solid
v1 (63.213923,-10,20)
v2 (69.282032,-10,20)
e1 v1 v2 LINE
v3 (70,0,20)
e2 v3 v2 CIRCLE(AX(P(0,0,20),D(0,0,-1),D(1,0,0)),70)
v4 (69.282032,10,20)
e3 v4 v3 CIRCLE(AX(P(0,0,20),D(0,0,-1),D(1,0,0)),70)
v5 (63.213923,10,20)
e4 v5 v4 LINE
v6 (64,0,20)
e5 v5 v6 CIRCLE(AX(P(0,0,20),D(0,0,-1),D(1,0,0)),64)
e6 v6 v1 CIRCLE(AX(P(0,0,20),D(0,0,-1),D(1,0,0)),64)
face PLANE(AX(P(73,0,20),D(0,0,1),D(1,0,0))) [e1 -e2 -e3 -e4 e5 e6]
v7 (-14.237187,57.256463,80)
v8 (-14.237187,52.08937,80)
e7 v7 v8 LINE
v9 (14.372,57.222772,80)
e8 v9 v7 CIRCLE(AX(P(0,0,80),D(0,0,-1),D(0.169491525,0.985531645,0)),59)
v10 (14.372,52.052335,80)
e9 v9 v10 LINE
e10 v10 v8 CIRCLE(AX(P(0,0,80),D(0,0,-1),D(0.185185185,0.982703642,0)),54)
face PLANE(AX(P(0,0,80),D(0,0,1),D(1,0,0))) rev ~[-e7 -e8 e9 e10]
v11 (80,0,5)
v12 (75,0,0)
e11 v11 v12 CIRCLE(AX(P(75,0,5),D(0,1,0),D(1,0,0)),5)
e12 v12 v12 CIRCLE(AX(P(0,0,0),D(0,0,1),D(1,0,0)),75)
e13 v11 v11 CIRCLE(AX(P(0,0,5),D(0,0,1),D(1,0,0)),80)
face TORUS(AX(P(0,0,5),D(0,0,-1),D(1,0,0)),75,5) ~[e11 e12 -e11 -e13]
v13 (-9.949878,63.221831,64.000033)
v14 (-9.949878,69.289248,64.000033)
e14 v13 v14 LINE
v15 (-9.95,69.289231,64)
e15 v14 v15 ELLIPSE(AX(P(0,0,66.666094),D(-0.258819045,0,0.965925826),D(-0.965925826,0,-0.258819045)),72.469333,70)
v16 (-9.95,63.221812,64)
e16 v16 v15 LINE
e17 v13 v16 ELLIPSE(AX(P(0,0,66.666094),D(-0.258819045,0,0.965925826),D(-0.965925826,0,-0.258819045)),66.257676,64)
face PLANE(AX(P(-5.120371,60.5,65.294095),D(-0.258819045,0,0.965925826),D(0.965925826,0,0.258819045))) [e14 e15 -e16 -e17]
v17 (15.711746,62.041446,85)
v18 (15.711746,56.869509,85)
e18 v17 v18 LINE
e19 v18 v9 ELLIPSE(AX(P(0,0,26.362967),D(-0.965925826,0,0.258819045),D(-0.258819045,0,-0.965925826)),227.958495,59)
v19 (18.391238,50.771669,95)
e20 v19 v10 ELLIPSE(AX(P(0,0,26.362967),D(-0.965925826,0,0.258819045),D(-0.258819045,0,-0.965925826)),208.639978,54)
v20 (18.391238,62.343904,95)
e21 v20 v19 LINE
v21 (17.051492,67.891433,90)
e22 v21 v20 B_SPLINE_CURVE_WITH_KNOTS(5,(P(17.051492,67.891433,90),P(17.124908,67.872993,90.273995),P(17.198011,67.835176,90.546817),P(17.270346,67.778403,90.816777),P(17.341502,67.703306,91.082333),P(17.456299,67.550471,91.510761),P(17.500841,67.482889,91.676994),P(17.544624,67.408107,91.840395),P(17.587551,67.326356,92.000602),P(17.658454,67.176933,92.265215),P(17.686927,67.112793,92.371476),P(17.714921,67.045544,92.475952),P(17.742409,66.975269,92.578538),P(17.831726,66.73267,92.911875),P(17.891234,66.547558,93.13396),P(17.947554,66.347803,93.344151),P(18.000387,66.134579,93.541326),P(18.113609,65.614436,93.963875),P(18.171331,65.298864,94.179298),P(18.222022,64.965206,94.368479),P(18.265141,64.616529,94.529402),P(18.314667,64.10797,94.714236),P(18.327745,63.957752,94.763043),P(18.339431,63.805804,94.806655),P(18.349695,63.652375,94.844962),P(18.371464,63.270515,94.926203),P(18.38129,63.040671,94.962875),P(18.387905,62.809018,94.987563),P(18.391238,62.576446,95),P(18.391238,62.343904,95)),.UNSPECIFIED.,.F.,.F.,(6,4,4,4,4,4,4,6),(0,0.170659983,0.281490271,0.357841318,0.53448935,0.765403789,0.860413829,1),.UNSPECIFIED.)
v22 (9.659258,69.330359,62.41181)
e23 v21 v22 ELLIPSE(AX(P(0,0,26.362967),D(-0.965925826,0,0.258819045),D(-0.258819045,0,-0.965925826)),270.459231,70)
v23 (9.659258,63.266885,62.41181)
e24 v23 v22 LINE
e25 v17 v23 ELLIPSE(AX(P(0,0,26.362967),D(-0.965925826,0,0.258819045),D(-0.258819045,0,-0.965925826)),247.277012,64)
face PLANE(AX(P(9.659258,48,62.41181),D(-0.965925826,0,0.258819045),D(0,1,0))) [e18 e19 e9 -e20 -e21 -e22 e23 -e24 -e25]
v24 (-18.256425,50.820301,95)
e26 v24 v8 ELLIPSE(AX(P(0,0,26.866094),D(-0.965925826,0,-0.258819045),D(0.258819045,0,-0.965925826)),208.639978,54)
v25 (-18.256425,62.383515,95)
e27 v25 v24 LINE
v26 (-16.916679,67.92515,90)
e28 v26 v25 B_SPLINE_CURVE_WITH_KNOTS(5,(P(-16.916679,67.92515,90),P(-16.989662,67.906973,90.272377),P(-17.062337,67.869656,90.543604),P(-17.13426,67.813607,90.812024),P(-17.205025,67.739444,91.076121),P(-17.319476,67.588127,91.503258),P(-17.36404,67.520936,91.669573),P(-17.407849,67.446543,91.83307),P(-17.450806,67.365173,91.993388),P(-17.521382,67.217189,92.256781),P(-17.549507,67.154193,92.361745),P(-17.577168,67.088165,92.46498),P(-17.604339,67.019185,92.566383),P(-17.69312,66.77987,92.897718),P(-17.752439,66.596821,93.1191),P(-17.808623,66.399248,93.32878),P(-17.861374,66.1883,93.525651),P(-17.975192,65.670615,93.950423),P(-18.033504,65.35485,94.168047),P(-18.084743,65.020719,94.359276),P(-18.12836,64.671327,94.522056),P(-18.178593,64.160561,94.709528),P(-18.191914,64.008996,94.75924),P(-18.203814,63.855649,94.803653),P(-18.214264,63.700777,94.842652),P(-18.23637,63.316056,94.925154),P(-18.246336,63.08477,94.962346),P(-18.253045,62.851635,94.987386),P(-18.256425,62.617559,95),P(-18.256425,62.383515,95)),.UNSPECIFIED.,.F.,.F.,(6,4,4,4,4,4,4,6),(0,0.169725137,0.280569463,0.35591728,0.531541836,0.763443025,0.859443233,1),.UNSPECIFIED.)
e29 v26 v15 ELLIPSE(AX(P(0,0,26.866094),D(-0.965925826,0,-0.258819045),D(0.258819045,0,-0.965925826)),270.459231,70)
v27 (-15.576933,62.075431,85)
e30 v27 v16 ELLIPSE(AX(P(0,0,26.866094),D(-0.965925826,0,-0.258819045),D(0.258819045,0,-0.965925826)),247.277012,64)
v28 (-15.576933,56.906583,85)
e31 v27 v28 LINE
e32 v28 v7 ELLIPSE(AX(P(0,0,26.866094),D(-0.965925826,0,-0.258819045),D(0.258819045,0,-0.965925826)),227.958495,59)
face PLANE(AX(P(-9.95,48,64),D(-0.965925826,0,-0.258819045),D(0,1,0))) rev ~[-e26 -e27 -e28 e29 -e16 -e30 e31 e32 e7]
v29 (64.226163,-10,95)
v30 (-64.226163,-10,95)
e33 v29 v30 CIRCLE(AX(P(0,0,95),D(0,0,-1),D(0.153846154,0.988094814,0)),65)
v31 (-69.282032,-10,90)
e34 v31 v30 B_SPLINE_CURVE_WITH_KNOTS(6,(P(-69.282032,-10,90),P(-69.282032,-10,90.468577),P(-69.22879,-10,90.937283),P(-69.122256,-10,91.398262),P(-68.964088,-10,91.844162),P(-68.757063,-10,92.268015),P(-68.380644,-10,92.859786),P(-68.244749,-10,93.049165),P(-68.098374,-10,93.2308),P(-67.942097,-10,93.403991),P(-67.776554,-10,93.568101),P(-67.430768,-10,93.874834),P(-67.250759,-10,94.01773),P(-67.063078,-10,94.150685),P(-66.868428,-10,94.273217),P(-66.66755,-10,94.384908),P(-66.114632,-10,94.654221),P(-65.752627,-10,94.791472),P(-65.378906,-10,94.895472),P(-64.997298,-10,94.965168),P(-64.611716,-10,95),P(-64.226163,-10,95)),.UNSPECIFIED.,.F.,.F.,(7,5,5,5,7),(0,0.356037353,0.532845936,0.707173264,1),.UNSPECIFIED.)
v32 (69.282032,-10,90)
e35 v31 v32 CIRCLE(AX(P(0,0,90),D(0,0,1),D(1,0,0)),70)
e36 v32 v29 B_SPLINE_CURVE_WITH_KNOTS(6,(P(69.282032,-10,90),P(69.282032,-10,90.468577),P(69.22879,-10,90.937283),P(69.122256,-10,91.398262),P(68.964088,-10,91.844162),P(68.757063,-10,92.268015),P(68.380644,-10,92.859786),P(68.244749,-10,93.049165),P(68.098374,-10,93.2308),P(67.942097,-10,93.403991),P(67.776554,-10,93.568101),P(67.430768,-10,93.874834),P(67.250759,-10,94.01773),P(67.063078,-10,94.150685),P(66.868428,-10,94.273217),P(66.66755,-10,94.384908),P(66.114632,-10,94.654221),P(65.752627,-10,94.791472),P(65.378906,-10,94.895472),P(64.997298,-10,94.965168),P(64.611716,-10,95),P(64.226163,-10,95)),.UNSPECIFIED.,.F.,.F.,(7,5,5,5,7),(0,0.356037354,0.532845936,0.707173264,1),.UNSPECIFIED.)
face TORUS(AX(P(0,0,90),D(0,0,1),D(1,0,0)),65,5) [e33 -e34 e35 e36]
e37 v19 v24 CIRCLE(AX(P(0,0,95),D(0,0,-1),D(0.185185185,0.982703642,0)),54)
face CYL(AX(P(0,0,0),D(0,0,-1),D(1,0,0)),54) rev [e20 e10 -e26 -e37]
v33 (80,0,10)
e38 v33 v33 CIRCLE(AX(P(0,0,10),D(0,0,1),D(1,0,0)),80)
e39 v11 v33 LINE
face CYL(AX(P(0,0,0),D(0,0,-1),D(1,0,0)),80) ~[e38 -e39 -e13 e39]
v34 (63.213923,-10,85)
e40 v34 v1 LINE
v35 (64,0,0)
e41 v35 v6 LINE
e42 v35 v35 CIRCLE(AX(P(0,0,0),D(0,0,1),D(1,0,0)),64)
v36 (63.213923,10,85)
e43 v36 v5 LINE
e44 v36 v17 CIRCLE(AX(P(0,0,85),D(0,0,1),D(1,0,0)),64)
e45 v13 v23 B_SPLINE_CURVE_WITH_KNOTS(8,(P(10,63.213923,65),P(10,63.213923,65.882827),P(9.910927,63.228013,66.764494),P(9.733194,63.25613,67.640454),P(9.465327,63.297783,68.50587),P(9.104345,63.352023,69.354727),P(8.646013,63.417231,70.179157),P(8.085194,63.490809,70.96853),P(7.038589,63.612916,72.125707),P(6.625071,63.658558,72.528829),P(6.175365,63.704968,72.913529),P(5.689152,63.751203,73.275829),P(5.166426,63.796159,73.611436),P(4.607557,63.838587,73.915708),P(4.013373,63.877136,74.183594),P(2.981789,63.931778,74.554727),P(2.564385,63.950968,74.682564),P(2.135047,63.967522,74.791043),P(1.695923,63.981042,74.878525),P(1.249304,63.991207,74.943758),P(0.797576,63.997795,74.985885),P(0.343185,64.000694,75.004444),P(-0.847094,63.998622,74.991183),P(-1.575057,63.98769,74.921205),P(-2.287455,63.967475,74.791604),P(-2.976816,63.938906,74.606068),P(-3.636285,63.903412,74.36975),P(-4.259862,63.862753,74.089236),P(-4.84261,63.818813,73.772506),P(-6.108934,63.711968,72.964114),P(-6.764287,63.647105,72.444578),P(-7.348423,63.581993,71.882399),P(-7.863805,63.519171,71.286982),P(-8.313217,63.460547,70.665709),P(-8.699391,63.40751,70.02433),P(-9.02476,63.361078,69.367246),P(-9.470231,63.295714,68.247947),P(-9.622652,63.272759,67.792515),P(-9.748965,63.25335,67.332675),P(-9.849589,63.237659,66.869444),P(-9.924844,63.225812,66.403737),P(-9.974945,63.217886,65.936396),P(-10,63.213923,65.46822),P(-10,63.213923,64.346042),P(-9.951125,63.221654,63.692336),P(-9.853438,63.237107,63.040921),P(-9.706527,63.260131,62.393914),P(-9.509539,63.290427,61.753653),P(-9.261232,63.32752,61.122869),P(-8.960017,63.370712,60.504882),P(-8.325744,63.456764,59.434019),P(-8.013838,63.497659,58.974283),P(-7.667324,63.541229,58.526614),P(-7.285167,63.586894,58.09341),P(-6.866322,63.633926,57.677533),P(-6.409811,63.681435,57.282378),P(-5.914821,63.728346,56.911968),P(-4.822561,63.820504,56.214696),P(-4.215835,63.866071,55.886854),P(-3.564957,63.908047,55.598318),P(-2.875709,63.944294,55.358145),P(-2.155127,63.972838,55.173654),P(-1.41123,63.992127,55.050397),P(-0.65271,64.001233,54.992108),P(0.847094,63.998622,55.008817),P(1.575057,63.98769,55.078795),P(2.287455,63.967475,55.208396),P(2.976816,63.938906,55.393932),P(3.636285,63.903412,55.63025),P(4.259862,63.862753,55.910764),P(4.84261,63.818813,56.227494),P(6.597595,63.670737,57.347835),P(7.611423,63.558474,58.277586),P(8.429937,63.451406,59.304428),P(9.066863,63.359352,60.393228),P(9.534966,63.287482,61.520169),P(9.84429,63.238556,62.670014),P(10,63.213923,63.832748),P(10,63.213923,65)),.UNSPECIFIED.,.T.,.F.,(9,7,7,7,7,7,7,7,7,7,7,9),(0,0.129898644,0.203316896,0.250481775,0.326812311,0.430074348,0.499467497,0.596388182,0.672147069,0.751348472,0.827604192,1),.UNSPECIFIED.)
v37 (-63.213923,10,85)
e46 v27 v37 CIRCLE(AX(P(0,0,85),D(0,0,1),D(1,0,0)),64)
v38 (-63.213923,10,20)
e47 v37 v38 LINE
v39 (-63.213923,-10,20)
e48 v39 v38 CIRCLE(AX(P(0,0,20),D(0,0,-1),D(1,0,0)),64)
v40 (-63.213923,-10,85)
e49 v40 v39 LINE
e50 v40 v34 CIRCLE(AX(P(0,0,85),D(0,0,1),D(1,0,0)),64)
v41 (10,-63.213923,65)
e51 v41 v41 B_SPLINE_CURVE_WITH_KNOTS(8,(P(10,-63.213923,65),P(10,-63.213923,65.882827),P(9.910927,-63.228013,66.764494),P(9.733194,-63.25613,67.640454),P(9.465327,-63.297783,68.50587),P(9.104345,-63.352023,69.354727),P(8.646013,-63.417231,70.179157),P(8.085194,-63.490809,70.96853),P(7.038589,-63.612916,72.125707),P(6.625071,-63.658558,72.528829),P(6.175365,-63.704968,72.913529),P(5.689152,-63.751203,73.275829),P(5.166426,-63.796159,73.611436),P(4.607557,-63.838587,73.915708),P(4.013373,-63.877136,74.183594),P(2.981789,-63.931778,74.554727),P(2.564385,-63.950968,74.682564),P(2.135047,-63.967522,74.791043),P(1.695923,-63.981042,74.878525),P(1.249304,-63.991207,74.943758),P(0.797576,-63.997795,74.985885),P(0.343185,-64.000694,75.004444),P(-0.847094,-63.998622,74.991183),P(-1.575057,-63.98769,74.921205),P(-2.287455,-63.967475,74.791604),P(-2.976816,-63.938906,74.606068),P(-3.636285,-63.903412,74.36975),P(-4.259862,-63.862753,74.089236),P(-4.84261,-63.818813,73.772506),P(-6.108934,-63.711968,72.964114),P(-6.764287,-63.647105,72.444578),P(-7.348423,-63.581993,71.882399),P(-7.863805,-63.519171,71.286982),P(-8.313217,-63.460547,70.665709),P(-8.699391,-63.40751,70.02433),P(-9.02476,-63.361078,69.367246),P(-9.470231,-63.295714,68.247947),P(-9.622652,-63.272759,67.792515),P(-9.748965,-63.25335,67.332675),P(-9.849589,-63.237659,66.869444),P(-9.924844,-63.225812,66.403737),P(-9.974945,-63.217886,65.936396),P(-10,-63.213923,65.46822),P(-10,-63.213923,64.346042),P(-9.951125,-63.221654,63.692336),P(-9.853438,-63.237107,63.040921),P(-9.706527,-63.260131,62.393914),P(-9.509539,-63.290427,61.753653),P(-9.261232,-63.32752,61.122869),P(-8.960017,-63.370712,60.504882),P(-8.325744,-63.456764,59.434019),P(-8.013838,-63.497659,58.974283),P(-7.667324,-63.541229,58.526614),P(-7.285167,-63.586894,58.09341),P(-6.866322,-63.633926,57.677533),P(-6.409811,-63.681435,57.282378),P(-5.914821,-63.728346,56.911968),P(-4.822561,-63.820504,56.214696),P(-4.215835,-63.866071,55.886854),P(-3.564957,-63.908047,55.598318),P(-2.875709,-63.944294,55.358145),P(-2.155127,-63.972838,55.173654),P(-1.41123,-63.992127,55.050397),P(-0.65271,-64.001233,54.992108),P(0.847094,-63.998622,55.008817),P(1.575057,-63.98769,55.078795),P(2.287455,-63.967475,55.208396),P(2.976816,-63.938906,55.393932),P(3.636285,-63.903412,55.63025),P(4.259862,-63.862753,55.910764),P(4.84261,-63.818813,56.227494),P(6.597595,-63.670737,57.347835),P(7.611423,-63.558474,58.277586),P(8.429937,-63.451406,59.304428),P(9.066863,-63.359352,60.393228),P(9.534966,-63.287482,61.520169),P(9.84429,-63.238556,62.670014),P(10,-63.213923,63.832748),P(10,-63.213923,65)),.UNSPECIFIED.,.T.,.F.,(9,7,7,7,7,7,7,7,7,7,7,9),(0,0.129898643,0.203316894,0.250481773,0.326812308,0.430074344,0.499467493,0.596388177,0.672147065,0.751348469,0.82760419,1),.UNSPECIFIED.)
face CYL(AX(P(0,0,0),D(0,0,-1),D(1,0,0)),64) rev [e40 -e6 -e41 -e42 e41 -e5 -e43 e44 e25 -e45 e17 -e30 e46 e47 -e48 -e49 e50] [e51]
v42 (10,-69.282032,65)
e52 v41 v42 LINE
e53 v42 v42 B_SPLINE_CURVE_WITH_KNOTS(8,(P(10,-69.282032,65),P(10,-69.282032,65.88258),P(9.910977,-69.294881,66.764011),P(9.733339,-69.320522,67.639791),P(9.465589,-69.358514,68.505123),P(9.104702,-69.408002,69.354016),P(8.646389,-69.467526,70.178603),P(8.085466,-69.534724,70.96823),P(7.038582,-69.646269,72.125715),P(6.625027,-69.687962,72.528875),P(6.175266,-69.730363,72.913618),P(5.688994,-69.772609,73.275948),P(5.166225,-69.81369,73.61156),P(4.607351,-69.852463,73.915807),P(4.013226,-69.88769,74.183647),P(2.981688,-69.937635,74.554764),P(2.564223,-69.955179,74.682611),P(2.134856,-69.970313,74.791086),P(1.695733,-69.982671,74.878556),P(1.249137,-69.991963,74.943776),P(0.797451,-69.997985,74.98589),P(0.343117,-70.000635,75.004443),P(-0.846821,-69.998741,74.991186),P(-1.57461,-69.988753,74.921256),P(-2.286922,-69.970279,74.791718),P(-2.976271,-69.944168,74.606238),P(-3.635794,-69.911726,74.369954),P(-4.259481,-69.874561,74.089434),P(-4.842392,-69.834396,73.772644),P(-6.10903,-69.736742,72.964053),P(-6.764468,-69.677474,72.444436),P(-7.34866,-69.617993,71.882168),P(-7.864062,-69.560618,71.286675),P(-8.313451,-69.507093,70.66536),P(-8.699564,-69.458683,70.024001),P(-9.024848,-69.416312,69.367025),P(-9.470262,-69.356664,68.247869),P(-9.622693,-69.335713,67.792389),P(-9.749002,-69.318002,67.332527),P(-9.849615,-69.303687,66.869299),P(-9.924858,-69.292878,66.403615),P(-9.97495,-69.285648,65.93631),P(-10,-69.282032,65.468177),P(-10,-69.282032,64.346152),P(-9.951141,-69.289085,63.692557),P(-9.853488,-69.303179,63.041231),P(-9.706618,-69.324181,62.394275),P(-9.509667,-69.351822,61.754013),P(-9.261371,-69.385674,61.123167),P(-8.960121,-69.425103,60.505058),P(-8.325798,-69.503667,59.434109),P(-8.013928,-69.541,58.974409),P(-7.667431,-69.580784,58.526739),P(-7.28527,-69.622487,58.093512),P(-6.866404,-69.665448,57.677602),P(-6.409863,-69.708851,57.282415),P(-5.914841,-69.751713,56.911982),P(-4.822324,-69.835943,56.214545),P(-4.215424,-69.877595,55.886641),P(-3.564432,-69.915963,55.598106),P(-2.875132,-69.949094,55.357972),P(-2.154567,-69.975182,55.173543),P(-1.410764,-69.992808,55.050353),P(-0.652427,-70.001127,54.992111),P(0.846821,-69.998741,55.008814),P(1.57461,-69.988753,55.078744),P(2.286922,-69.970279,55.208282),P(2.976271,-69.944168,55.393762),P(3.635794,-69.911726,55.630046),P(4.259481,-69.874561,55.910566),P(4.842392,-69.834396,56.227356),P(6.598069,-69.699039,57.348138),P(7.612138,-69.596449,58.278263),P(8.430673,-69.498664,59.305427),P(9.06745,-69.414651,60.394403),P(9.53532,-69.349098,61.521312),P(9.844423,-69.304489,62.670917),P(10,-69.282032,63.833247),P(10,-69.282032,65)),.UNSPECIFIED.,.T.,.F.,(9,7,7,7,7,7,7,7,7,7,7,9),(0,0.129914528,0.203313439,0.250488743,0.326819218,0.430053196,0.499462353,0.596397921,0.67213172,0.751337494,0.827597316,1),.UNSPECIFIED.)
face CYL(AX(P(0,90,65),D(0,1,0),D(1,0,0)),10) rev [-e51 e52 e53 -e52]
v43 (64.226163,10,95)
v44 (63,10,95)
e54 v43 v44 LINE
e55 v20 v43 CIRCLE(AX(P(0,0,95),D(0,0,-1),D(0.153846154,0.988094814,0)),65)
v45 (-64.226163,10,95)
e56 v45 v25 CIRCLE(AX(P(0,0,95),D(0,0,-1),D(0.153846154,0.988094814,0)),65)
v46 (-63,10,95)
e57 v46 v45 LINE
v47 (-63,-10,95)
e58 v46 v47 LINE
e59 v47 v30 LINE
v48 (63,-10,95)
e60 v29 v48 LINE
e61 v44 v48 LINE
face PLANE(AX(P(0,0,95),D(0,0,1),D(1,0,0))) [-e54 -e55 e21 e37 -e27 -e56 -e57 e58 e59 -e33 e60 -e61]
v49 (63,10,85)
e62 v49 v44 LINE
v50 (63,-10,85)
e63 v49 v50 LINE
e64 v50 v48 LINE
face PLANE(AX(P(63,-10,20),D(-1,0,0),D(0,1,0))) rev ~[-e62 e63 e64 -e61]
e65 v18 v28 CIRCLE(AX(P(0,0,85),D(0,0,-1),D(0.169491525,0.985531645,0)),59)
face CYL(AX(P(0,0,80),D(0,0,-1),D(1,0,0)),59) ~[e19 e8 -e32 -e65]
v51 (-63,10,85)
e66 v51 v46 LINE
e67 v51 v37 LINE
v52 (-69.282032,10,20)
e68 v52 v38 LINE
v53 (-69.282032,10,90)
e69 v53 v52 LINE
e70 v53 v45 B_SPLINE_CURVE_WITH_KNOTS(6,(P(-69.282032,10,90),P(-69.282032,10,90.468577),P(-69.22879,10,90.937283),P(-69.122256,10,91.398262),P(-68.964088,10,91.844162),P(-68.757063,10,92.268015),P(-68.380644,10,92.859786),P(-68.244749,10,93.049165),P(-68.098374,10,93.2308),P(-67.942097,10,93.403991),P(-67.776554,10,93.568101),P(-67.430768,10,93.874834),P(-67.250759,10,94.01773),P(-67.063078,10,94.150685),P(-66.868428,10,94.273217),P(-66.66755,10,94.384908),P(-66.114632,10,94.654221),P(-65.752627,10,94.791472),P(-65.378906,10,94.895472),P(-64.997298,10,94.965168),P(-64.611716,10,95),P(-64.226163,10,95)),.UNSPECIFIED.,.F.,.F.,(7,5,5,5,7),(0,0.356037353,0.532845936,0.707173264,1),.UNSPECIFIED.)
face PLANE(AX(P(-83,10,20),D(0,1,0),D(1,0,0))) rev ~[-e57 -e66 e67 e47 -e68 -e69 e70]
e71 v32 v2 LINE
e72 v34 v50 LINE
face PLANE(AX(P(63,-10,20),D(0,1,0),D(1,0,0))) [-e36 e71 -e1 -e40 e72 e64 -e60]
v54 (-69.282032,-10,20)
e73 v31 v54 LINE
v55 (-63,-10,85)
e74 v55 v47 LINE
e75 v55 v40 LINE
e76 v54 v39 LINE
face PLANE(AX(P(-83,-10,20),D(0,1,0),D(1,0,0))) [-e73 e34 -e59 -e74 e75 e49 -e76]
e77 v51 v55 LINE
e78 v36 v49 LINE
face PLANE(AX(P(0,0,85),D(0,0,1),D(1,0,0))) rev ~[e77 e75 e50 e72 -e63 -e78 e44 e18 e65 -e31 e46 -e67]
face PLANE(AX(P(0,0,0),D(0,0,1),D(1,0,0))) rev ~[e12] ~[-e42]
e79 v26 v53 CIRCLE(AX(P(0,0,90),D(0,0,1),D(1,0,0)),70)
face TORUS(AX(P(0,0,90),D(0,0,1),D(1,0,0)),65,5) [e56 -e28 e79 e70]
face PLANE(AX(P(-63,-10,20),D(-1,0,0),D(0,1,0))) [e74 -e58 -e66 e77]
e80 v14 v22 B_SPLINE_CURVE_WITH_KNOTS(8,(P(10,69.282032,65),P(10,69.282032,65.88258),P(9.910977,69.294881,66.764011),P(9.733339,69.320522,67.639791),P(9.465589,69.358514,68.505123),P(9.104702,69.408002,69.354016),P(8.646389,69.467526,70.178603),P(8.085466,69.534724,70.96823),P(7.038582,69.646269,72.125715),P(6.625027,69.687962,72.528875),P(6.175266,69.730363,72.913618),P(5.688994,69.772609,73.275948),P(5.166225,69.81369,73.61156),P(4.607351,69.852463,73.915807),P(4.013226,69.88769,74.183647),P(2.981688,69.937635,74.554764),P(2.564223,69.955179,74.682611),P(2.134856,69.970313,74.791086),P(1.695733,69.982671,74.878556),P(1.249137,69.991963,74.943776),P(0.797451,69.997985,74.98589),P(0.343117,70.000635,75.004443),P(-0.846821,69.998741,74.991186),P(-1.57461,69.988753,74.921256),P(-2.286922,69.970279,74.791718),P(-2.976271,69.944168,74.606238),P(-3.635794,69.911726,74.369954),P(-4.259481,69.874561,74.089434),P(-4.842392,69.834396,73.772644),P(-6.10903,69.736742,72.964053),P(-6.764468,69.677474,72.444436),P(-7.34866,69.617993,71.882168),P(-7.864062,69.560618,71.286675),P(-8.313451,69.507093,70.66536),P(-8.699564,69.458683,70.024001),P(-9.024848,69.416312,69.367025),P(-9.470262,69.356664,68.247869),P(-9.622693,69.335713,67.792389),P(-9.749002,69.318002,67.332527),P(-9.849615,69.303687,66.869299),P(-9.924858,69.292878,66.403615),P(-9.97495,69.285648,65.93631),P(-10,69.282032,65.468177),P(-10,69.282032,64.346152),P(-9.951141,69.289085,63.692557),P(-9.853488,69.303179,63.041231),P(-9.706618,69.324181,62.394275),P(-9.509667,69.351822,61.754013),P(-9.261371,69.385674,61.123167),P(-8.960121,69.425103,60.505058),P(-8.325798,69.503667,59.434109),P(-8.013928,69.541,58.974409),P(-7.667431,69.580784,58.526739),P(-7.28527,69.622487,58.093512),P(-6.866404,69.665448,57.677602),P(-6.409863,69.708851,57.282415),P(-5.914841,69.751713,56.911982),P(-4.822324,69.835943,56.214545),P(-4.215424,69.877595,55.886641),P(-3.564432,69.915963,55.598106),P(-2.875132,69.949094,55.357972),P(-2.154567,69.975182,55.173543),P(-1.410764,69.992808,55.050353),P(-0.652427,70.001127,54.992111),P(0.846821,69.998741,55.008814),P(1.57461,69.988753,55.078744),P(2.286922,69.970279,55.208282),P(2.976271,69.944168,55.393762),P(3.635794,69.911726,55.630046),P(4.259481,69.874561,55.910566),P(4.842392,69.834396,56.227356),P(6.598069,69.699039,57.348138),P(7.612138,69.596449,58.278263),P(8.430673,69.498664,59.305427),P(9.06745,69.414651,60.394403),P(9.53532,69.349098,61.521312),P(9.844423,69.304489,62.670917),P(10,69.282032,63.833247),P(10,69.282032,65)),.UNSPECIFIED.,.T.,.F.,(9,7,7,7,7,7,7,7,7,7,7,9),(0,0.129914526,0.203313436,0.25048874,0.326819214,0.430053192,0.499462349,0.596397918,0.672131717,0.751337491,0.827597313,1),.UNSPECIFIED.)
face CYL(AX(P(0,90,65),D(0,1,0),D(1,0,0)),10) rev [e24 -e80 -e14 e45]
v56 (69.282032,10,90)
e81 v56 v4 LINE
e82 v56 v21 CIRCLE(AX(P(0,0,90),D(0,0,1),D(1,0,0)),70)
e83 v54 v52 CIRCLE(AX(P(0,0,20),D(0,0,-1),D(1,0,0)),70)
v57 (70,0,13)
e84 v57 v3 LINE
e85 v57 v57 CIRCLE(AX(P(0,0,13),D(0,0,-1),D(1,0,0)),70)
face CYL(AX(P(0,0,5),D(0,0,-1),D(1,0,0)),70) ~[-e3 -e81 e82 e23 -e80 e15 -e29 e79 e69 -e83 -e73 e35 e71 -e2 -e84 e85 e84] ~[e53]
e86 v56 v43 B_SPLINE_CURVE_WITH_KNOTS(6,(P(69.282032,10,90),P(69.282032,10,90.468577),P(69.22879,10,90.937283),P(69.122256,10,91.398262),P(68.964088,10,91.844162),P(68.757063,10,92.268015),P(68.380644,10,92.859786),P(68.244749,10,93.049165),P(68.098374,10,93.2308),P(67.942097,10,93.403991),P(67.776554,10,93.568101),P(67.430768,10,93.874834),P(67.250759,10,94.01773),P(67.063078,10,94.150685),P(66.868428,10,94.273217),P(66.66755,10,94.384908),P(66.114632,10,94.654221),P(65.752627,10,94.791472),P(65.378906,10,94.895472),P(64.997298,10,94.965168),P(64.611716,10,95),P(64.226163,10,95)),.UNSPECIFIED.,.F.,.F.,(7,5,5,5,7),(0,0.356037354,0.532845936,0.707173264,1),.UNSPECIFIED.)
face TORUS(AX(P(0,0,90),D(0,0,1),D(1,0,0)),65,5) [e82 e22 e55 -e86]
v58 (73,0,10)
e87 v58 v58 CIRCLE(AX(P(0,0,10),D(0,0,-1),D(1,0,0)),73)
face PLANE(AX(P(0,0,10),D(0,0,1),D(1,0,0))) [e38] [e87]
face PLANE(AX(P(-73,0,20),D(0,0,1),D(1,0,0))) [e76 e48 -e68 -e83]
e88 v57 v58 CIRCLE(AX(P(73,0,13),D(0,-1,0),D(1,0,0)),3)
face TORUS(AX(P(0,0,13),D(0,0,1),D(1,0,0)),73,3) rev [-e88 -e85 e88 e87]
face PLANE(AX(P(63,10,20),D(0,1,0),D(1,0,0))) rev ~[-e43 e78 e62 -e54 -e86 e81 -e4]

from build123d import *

# Parameters (mm, degrees)
BOX004_W               = 20
BOX004_H               = 20
BOX004_DEPTH           = 80
BOX003_W               = 20
BOX003_H               = 20
BOX003_DEPTH           = 80
BOX002_W               = 10
BOX002_H               = 25
BOX002_DEPTH           = 35
BOX002_PITCH_ANGLE     = -15
BOX001_W               = 10
BOX001_H               = 25
BOX001_DEPTH           = 35
BOX001_PITCH_ANGLE     = 15
BOX_W                  = 20
BOX_H                  = 25
BOX_DEPTH              = 35
CYLINDER005_R          = 10
CYLINDER005_DEPTH      = 180
CYLINDER005_ROLL_ANGLE = 90
CYLINDER004_R          = 54
CYLINDER004_DEPTH      = 100
CYLINDER003_R          = 59
CYLINDER003_DEPTH      = 10
CYLINDER002_R          = 64
CYLINDER002_DEPTH      = 85
CYLINDER001_R          = 70
CYLINDER001_DEPTH      = 90
CYLINDER_R             = 80
CYLINDER_DEPTH         = 10
FILLET_R               = 3
FILLET001_R            = 5
FILLET002_R            = 5


with BuildPart() as tab_cut_l:
    # Box004 → Box004 (new body)
    with BuildSketch(Plane(origin=(-83, -10, 20), x_dir=(1, 0, 0), z_dir=(0, 0, 1))):
        with Locations((10, 10)):
            Rectangle(BOX004_W, BOX004_H)
    extrude(amount=BOX004_DEPTH)


with BuildPart() as tab_cut_r:
    # Box003 → Box003 (new body)
    with BuildSketch(Plane(origin=(63, -10, 20), x_dir=(1, 0, 0), z_dir=(0, 0, 1))):
        with Locations((10, 10)):
            Rectangle(BOX003_W, BOX003_H)
    extrude(amount=BOX003_DEPTH)


with BuildPart() as cube001:
    # Box002 → Box002 (new body)
    with BuildSketch(Plane.XY):
        with Locations((5, 12.5)):
            Rectangle(BOX002_W, BOX002_H)
    extrude(amount=BOX002_DEPTH)


with BuildPart() as cube001_1:
    # Box002 pitch: moved
    add(cube001.part.rotate(Axis((0, 0, 0), (0, 1, 0)), BOX002_PITCH_ANGLE))


with BuildPart() as cube001_2:
    # Box002 placement: moved
    add(cube001_1.part.moved(Location((-9.95, 48, 64))))


with BuildPart() as cube:
    # Box001 → Box001 (new body)
    with BuildSketch(Plane.XY):
        with Locations((5, 12.5)):
            Rectangle(BOX001_W, BOX001_H)
    extrude(amount=BOX001_DEPTH)


with BuildPart() as cube_1:
    # Box001 pitch: moved
    add(cube.part.rotate(Axis((0, 0, 0), (0, 1, 0)), BOX001_PITCH_ANGLE))


with BuildPart() as cube_2:
    # Box001 placement: moved
    add(cube_1.part.moved(Location((0, 48, 65))))


with BuildPart() as bearing_slot:
    # Box → Box (new body)
    with BuildSketch(Plane(origin=(-10, 48, 65), x_dir=(1, 0, 0), z_dir=(0, 0, 1))):
        with Locations((10, 12.5)):
            Rectangle(BOX_W, BOX_H)
    extrude(amount=BOX_DEPTH)


with BuildPart() as bearing_holes:
    # Cylinder005 → Cylinder005 (new body)
    with BuildSketch(Plane.XY):
        Circle(CYLINDER005_R)
    extrude(amount=CYLINDER005_DEPTH)


with BuildPart() as bearing_holes_1:
    # Cylinder005 roll: moved
    add(bearing_holes.part.rotate(Axis((0, 0, 0), (1, 0, 0)), CYLINDER005_ROLL_ANGLE))


with BuildPart() as bearing_holes_2:
    # Cylinder005 placement: moved
    add(bearing_holes_1.part.moved(Location((0, 90, 65))))


with BuildPart() as through_hole:
    # Cylinder004 → Cylinder004 (new body)
    with BuildSketch(Plane.XY):
        Circle(CYLINDER004_R)
    extrude(amount=CYLINDER004_DEPTH)


with BuildPart() as inner_lip:
    # Cylinder003 → Cylinder003 (new body)
    with BuildSketch(Plane.XY.offset(80)):
        Circle(CYLINDER003_R)
    extrude(amount=CYLINDER003_DEPTH)


with BuildPart() as inner_hole:
    # Cylinder002 → Cylinder002 (new body)
    with BuildSketch(Plane.XY):
        Circle(CYLINDER002_R)
    extrude(amount=CYLINDER002_DEPTH)


with BuildPart() as body_cylinder:
    # Cylinder001 → Cylinder001 (new body)
    with BuildSketch(Plane.XY.offset(5)):
        Circle(CYLINDER001_R)
    extrude(amount=CYLINDER001_DEPTH)


with BuildPart() as cut007:
    # Cylinder → Cylinder (new body)
    with BuildSketch(Plane.XY):
        Circle(CYLINDER_R)
    extrude(amount=CYLINDER_DEPTH)

    # Fusion: union Body_Cylinder
    add(body_cylinder.part)

    # Cut: cut Inner_Hole
    add(inner_hole.part, mode=Mode.SUBTRACT)

    # Fusion001: union Inner_Lip
    add(inner_lip.part)

    # Cut001: cut Through_Hole
    add(through_hole.part, mode=Mode.SUBTRACT)

    # Fillet
    fillet_edges = [cut007.edges().sort_by_distance(p)[0] for p in [
        (-70, 0, 10),
    ]]
    fillet(fillet_edges, radius=FILLET_R)

    # Fillet001
    fillet001_edges = [cut007.edges().sort_by_distance(p)[0] for p in [
        (-80, 0, 0),
    ]]
    fillet(fillet001_edges, radius=FILLET001_R)

    # Fillet002
    fillet002_edges = [cut007.edges().sort_by_distance(p)[0] for p in [
        (-70, 0, 95),
    ]]
    fillet(fillet002_edges, radius=FILLET002_R)

    # Cut002: cut Bearing_Holes
    add(bearing_holes_2.part, mode=Mode.SUBTRACT)

    # Cut003: cut Bearing_Slot
    add(bearing_slot.part, mode=Mode.SUBTRACT)

    # Cut004: cut Cube
    add(cube_2.part, mode=Mode.SUBTRACT)

    # Cut005: cut Cube001
    add(cube001_2.part, mode=Mode.SUBTRACT)

    # Cut006: cut Tab_Cut_R
    add(tab_cut_r.part, mode=Mode.SUBTRACT)

    # Cut007: cut Tab_Cut_L
    add(tab_cut_l.part, mode=Mode.SUBTRACT)


solid = cut007.part
